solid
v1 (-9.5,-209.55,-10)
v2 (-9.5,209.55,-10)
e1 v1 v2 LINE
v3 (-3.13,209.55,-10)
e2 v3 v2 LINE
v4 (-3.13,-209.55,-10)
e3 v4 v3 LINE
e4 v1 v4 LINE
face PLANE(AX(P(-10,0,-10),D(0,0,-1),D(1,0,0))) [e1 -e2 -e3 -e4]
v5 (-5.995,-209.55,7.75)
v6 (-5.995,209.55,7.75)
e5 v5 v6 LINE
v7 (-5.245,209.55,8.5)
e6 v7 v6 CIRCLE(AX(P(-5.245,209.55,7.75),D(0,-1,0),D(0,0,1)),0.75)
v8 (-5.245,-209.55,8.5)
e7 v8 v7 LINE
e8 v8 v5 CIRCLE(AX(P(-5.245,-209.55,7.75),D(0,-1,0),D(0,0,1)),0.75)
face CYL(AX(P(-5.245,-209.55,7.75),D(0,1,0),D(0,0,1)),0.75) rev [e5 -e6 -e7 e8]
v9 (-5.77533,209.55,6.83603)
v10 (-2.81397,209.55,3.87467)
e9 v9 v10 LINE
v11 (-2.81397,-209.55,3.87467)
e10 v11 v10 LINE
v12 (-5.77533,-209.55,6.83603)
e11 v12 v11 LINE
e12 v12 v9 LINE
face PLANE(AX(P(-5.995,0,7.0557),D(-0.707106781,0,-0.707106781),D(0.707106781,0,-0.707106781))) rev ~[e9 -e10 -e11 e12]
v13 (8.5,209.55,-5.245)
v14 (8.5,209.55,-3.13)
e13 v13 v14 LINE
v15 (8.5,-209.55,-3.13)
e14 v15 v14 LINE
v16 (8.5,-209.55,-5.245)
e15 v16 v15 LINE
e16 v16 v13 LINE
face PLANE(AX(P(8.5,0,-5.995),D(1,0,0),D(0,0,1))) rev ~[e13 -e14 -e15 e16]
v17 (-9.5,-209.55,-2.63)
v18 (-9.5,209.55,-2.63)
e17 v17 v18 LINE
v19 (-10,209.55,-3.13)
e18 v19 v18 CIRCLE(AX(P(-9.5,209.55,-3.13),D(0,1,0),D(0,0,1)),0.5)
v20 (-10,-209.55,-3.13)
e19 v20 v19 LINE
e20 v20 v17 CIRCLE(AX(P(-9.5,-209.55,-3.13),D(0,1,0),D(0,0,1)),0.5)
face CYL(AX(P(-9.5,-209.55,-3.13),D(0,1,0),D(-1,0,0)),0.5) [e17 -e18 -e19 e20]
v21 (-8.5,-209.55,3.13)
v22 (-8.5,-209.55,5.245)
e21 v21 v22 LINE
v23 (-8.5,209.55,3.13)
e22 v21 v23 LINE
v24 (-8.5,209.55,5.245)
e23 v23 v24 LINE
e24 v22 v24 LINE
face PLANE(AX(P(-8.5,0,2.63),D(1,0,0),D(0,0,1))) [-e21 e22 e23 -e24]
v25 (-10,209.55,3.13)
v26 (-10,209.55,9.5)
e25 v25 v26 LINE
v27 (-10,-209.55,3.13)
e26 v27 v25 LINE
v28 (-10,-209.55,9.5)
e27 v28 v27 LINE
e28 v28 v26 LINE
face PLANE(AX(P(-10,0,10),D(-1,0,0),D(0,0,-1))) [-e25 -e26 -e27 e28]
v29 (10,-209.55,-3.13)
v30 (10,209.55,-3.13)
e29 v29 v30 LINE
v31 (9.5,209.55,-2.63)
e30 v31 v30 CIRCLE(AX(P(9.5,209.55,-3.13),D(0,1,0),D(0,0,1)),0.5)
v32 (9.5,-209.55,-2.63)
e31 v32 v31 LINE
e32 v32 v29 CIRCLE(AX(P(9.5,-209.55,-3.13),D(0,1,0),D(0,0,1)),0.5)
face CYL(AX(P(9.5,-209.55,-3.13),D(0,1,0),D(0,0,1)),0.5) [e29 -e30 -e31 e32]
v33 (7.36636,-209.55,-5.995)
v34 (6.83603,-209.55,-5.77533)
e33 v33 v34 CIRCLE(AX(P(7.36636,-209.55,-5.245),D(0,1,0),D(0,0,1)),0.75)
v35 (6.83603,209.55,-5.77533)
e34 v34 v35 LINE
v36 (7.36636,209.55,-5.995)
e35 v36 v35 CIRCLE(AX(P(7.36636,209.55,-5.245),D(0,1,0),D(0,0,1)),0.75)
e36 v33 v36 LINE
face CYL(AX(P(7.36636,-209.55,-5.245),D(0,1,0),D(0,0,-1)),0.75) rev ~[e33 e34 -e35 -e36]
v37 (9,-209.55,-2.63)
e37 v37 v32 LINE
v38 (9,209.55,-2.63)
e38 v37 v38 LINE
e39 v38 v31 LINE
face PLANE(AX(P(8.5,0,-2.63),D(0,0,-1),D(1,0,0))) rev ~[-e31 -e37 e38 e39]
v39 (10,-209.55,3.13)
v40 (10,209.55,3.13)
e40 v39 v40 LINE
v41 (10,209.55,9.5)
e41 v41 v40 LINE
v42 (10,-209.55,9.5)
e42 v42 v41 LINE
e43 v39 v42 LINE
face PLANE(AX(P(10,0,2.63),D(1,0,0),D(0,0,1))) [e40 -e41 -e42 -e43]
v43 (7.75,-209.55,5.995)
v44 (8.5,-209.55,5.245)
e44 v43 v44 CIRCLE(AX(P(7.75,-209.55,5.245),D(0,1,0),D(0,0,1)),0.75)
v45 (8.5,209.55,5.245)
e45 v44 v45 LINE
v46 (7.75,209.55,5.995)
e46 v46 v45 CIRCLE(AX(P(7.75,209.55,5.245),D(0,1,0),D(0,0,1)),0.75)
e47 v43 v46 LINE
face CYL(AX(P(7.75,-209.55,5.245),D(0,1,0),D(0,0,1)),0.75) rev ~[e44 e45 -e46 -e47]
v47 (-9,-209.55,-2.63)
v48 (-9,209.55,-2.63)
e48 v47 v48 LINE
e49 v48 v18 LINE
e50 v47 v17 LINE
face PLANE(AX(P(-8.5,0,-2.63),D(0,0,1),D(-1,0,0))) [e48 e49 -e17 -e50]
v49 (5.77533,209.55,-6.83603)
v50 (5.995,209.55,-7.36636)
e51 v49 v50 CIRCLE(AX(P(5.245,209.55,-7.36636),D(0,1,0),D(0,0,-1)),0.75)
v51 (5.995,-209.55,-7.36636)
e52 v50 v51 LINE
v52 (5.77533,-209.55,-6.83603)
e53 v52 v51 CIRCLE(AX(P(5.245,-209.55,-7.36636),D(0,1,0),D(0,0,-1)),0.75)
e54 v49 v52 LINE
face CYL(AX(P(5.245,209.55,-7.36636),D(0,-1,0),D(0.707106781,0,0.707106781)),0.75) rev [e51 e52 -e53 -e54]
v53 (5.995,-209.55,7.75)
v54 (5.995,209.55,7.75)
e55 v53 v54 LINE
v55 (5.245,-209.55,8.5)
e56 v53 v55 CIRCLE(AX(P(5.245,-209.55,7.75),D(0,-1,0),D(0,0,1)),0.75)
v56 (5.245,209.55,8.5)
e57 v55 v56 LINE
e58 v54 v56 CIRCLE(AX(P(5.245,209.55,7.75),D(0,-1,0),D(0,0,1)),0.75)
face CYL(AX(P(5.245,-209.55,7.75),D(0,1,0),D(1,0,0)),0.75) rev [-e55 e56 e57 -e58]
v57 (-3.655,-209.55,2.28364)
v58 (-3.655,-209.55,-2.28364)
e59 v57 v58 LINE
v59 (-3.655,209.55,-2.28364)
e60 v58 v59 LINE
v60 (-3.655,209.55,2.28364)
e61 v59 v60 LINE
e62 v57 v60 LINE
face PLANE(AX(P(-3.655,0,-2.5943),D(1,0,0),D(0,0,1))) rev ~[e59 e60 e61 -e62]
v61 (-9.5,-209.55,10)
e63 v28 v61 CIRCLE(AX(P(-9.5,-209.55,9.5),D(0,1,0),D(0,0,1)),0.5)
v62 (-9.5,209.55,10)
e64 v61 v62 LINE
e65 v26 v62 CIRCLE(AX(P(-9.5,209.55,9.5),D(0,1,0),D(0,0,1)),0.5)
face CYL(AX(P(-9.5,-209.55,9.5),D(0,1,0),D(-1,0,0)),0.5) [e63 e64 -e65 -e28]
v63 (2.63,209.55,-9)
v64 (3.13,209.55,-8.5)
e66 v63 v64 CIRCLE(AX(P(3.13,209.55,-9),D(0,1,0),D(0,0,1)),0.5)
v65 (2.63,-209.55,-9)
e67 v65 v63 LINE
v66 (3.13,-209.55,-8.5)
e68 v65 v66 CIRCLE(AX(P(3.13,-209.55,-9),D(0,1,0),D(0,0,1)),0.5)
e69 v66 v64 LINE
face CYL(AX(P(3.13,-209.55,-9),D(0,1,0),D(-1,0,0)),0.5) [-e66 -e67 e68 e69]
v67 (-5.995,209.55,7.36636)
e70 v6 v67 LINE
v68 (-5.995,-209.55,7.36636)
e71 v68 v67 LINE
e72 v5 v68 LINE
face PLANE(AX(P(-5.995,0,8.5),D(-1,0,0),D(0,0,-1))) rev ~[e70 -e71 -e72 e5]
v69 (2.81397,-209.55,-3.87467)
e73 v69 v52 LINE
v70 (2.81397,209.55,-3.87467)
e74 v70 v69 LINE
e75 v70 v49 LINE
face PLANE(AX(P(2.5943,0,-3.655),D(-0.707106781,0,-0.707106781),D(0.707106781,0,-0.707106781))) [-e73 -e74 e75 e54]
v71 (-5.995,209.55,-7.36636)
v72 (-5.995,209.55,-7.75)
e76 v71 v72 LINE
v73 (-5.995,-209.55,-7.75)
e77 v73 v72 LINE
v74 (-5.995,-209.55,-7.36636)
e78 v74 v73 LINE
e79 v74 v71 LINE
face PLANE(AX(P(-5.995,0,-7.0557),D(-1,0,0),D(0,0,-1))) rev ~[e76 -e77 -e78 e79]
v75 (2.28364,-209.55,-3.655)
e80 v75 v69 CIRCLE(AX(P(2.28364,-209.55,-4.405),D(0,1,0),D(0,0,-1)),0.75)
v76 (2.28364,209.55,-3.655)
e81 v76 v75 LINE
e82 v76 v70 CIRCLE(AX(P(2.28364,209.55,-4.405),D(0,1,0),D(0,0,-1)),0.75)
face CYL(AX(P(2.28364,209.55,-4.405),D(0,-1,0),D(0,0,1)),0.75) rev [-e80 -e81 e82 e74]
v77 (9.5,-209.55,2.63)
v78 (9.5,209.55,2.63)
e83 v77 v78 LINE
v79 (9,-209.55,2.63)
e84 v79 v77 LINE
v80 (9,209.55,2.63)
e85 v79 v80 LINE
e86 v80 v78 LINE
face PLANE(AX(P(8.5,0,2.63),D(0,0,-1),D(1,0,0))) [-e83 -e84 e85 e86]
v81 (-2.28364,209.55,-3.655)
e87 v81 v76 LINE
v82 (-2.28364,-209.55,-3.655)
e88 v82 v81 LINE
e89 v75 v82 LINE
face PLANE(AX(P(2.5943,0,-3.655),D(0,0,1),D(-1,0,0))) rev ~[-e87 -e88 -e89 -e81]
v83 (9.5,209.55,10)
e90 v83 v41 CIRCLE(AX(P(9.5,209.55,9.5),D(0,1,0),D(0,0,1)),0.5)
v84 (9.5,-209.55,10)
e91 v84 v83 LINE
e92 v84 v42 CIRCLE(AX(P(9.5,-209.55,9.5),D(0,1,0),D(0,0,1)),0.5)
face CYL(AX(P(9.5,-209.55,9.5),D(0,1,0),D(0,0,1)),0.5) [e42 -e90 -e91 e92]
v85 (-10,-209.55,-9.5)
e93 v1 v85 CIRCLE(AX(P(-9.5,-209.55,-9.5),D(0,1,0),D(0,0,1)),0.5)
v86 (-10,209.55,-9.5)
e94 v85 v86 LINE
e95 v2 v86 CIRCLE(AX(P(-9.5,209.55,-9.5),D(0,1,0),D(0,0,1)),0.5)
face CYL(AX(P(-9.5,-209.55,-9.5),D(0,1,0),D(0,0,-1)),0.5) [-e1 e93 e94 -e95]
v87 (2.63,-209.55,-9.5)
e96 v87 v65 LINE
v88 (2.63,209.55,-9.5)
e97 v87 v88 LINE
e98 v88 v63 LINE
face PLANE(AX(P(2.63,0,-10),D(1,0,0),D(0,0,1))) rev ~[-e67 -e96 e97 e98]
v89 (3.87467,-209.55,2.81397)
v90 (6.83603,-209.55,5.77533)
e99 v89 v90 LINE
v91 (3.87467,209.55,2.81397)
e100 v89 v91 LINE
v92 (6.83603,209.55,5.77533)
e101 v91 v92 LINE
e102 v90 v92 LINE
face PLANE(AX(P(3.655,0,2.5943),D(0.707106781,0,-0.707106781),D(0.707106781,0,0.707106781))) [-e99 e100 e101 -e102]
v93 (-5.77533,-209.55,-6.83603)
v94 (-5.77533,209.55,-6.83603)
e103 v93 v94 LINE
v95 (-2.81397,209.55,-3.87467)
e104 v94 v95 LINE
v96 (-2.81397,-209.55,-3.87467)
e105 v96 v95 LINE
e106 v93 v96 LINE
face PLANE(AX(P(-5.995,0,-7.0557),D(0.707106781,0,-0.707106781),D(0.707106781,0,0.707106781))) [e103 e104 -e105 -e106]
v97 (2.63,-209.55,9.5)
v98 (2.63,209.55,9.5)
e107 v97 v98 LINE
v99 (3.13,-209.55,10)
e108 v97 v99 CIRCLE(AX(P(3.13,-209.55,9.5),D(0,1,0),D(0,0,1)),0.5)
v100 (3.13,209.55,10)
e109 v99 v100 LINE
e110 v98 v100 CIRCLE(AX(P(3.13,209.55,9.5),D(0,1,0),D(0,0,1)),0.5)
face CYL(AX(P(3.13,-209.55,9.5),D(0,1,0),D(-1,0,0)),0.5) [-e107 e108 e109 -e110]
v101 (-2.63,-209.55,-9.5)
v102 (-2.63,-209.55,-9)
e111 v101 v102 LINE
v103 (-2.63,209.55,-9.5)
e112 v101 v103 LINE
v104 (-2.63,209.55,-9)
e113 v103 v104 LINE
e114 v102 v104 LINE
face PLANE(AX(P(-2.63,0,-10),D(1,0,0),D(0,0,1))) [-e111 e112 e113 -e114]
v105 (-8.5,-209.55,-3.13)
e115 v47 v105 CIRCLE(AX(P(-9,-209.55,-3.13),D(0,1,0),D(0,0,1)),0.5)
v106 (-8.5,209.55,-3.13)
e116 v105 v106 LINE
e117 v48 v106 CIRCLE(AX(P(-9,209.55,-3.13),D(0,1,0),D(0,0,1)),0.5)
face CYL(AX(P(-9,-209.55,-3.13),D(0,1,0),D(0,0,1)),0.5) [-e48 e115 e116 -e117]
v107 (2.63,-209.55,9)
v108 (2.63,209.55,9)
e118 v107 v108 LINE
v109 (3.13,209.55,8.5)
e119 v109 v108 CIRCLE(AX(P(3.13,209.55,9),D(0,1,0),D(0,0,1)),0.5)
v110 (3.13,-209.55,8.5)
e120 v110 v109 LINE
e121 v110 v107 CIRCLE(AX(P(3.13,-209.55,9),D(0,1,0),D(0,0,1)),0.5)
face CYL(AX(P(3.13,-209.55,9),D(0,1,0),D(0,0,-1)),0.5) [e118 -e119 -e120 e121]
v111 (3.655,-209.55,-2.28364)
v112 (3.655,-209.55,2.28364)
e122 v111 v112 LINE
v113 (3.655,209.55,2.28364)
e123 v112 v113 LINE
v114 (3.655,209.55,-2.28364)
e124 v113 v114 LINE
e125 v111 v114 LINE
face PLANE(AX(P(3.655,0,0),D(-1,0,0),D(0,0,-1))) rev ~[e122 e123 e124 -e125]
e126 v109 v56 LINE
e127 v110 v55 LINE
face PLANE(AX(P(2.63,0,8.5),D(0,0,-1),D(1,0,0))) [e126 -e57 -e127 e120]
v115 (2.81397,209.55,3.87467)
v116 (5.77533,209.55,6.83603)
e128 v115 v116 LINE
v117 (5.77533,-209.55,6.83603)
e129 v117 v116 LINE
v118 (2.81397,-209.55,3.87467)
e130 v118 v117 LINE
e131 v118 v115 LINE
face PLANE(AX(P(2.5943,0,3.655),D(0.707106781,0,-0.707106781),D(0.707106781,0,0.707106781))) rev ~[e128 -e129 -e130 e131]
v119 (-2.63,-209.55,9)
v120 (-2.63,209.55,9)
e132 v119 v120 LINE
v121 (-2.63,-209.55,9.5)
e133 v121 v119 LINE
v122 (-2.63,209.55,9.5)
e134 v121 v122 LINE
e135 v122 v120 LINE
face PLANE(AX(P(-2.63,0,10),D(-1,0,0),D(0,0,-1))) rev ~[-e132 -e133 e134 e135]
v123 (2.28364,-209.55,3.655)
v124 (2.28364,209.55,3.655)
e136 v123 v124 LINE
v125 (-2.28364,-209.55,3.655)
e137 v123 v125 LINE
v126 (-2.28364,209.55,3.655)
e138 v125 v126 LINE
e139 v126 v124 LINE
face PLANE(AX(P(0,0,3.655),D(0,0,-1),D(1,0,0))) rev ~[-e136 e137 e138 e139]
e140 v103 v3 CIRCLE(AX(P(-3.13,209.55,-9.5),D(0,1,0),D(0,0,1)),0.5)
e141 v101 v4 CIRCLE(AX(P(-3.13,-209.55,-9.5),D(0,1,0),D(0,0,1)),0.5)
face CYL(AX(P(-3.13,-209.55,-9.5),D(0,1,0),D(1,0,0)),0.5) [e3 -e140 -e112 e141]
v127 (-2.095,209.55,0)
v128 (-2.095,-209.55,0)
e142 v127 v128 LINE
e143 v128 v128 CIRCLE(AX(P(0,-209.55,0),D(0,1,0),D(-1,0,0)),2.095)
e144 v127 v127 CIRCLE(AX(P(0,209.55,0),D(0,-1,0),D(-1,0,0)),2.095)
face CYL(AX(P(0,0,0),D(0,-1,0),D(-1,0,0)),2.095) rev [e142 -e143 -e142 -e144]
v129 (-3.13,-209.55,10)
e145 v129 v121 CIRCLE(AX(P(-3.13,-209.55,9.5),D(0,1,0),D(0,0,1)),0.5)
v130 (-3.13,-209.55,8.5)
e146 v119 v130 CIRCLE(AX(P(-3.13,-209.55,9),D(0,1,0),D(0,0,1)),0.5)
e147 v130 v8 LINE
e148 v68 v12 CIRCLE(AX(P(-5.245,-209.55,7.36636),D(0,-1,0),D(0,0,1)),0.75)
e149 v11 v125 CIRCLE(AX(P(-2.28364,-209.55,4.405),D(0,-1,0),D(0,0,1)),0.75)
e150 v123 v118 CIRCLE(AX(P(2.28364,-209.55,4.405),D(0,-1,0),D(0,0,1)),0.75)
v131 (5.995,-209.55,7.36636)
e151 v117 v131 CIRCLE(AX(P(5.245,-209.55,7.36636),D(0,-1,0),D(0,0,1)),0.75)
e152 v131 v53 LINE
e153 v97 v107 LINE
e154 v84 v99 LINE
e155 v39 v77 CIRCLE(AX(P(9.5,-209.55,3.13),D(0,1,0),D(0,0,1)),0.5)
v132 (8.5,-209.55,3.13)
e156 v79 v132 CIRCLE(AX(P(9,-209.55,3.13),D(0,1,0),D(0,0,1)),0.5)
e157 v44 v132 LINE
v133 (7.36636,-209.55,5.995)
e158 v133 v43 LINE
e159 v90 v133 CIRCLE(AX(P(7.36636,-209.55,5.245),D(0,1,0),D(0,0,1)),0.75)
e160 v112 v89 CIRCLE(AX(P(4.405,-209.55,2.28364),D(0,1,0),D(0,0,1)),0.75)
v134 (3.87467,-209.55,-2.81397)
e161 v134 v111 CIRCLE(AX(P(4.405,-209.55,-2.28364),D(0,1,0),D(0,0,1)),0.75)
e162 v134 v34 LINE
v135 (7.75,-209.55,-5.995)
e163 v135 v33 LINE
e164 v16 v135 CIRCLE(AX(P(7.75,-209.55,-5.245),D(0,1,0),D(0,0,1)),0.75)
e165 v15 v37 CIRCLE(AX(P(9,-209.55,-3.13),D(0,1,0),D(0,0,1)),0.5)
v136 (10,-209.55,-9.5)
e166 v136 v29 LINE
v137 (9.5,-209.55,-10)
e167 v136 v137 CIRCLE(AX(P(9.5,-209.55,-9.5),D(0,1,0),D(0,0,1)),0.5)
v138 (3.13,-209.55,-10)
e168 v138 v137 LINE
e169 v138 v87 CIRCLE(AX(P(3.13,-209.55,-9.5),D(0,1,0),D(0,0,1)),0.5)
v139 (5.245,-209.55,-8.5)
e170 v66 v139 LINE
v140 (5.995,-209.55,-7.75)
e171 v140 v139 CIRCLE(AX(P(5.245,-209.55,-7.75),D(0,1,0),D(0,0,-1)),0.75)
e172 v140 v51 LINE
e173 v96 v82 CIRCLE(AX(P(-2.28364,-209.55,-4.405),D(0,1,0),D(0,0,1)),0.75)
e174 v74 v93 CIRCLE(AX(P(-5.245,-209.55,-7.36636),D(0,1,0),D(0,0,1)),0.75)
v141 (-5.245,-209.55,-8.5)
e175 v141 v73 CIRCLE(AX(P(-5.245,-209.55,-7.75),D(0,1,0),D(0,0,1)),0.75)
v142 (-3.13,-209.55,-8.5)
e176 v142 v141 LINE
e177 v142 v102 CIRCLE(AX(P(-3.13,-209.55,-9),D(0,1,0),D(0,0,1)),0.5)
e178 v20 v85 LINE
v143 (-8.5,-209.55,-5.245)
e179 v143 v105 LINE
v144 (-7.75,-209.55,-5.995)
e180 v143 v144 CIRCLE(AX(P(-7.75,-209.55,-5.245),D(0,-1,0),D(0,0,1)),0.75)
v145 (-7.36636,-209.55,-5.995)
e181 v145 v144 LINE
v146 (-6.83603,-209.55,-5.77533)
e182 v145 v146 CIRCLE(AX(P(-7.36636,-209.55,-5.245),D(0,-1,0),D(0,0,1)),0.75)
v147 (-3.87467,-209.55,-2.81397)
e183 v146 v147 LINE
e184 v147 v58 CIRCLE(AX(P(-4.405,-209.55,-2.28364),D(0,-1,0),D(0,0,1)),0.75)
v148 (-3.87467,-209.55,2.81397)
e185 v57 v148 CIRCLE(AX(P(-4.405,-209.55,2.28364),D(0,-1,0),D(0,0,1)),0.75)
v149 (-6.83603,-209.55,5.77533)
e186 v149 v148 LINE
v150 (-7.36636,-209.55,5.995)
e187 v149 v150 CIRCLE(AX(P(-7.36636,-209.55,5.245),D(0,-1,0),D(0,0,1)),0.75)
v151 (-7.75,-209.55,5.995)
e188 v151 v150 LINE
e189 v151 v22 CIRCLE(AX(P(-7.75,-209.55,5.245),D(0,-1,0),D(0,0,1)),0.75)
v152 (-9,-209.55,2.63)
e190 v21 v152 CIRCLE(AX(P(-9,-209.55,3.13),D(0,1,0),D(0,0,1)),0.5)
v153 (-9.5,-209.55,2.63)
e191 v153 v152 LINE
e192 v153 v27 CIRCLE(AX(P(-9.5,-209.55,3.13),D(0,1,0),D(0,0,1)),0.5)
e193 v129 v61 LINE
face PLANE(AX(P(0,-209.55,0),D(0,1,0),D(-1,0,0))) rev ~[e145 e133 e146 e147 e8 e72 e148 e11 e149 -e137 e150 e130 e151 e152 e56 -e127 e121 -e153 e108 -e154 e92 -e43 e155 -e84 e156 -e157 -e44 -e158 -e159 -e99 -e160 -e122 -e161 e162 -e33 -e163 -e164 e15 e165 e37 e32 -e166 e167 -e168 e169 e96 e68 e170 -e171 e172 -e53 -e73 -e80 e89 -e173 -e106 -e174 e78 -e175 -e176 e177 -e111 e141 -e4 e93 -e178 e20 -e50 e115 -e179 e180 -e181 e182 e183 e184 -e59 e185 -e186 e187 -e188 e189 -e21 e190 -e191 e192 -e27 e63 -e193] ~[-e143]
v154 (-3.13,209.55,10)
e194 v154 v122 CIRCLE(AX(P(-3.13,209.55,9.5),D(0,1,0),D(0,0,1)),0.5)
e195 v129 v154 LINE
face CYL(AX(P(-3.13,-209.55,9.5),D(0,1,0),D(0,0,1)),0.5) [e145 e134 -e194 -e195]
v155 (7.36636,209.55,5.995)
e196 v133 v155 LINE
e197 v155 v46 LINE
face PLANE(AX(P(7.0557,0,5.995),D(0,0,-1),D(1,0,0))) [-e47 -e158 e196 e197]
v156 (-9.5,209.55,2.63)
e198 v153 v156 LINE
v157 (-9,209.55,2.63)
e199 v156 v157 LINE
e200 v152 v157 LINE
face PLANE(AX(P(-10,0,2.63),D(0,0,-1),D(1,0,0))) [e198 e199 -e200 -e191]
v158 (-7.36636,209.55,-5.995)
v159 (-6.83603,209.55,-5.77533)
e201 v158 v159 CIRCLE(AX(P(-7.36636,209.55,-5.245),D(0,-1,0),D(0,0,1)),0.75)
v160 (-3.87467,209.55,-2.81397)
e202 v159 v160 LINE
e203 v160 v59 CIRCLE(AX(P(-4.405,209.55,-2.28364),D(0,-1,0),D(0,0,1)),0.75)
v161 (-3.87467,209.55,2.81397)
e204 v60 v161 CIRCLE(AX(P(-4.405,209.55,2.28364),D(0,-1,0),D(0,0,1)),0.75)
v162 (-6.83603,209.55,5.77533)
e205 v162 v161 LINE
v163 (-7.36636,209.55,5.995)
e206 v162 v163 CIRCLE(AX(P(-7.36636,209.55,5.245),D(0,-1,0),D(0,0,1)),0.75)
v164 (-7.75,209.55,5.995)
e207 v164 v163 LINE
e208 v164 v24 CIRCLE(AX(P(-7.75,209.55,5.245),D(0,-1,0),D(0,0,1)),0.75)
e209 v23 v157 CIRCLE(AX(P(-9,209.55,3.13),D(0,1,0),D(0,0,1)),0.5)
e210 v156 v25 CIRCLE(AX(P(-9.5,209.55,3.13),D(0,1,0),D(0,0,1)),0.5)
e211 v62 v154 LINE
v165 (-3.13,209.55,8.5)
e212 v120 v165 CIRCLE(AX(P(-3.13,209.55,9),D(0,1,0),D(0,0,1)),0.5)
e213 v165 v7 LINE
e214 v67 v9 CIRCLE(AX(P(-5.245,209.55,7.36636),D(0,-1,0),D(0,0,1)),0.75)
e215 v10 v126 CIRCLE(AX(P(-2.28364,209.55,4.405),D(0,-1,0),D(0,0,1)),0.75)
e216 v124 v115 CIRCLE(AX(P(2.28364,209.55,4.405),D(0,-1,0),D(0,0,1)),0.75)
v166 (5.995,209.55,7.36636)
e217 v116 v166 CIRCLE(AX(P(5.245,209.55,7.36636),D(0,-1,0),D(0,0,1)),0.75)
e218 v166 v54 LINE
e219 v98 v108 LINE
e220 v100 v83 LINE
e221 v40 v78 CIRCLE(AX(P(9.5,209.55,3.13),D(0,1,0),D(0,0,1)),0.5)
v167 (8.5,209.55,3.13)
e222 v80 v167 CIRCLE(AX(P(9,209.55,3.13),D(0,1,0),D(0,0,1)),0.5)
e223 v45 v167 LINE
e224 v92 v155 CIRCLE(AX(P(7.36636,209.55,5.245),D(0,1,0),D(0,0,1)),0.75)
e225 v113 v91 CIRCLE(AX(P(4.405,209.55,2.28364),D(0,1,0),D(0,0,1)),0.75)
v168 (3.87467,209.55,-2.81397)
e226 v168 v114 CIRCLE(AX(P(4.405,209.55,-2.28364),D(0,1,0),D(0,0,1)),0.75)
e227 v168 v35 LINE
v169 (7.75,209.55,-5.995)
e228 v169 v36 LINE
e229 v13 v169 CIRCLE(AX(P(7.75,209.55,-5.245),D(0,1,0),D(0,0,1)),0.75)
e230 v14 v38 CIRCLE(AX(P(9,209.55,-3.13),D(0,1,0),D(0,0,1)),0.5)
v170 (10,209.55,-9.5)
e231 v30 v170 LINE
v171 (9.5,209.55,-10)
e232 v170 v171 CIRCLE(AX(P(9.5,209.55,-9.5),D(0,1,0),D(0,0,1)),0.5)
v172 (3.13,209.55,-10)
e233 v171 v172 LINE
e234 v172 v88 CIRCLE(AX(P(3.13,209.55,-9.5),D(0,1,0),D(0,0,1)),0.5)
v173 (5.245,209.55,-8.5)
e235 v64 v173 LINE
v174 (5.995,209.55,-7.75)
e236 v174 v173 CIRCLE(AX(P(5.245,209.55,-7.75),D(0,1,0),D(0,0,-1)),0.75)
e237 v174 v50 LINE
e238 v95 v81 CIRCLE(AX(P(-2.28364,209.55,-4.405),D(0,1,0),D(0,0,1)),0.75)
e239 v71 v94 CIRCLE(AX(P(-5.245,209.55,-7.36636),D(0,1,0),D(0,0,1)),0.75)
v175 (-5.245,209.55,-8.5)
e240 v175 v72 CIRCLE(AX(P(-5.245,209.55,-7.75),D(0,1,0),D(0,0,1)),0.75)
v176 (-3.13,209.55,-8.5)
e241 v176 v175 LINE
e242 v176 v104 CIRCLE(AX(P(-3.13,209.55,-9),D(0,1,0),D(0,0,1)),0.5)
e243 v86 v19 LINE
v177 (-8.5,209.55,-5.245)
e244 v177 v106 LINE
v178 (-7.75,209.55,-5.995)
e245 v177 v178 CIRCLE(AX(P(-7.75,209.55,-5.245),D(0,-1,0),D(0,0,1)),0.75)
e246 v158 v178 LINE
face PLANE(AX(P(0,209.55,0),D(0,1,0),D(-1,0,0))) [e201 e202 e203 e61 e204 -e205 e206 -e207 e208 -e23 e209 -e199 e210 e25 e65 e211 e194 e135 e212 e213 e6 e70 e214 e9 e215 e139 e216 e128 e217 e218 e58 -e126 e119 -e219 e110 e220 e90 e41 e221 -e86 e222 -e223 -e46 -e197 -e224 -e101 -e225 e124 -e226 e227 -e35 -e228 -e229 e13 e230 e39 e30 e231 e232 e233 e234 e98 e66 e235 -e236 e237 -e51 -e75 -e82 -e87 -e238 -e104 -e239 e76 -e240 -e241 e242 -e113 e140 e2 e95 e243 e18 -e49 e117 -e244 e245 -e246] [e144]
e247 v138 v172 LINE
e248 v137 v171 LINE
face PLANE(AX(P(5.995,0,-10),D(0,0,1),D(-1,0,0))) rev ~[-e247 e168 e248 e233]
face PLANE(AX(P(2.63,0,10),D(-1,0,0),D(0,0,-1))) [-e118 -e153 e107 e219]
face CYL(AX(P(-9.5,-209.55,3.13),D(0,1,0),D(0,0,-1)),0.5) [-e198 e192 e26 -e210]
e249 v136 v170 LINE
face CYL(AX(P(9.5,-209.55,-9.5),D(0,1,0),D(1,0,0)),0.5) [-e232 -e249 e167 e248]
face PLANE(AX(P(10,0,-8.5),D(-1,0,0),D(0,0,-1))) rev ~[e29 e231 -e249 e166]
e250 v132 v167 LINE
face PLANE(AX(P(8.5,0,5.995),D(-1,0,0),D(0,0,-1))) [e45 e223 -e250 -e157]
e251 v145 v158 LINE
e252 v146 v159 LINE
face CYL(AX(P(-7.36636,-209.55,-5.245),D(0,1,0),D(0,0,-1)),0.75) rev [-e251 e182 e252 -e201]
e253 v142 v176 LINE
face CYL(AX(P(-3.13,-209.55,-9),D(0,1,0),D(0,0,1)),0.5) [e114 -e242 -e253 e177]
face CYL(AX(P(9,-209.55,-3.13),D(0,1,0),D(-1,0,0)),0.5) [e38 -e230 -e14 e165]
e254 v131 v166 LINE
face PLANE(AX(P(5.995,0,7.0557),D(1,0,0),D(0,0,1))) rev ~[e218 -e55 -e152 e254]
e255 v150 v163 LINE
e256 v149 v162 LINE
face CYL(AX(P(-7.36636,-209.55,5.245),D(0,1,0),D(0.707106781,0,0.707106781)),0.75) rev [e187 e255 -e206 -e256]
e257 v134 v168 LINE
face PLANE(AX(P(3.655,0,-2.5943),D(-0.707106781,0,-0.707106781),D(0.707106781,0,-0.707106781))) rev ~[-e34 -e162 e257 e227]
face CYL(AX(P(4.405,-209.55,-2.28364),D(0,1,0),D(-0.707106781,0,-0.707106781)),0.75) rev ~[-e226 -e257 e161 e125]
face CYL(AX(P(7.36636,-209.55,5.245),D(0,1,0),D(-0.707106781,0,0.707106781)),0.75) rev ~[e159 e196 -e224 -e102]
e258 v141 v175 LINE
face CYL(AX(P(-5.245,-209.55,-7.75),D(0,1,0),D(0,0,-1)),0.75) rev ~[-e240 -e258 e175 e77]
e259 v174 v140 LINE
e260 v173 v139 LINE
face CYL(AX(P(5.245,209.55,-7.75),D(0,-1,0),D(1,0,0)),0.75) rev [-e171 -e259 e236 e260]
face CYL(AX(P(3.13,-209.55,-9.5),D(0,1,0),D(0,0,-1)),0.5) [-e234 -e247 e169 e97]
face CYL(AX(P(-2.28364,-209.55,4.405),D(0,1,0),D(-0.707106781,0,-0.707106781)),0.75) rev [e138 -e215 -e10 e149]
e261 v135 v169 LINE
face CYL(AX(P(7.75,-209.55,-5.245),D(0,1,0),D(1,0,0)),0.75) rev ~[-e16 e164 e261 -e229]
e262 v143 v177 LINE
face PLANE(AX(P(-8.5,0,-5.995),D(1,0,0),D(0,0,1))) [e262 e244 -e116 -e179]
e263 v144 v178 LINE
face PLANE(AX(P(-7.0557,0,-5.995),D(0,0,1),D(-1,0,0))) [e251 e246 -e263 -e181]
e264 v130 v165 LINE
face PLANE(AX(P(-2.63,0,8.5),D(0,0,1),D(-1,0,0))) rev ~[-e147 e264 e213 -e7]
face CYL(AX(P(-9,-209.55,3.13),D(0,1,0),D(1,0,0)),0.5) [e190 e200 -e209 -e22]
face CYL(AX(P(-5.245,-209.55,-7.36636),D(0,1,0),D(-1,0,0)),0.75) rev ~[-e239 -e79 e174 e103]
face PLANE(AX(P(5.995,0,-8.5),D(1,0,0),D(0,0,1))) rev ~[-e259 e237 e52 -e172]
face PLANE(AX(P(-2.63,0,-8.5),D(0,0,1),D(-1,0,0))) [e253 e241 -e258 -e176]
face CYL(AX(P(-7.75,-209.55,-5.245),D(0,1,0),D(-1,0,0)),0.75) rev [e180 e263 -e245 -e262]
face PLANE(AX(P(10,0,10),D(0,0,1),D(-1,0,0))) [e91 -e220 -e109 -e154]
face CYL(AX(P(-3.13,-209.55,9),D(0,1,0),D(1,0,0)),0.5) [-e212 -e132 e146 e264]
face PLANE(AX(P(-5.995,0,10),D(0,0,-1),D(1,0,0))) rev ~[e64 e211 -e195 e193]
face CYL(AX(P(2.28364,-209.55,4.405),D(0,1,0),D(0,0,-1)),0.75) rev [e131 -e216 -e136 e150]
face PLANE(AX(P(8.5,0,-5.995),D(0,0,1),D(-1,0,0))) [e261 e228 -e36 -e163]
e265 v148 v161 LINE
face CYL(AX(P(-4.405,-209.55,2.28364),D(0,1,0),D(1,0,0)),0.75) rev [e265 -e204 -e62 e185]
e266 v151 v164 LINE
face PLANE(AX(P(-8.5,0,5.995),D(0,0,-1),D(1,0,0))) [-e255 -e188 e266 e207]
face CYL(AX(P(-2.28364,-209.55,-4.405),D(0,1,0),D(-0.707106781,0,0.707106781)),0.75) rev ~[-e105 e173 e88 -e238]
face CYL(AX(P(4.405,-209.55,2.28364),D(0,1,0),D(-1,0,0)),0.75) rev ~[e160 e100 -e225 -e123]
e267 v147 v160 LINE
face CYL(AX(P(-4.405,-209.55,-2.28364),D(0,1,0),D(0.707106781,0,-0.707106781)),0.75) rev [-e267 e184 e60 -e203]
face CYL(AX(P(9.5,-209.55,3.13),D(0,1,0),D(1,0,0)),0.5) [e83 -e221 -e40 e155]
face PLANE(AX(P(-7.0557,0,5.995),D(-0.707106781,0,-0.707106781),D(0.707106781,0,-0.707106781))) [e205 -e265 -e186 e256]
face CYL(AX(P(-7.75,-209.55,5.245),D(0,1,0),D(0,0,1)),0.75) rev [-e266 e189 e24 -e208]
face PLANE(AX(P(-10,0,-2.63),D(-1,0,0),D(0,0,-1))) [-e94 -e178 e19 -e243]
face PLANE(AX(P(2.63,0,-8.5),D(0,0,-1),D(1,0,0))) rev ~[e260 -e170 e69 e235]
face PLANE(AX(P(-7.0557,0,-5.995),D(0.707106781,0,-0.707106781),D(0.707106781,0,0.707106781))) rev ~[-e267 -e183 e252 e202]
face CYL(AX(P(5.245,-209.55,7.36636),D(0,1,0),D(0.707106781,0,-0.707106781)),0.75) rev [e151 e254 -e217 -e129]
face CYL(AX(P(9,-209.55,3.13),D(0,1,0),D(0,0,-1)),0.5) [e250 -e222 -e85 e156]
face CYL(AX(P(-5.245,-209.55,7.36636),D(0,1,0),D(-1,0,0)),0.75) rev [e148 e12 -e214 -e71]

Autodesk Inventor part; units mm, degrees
ref_plane "YZ Plane" through (0, 0, 0) normal (1, 0, 0) x (0, 1, 0)
ref_plane "XZ Plane" through (0, 0, 0) normal (0, 1, 0) x (-1, 0, 0)
ref_plane "XY Plane" through (0, 0, 0) normal (0, 0, 1) x (1, 0, 0)
sketch "Sketch1" plane through (0, 0, 0) normal (0, 1, 0) x (-1, 0, 0)
  line L0 (0, -14) -> (0, 14) projected
  line L1 (-14, 0) -> (14, 0) projected
  line L2 (14, 0) -> (-14, 0) projected
  line L3 (0, -14) -> (0, 14) projected
  line L4 (2.5943, 3.655) -> (-2.5943, 3.655)
  line L5 (-3.655, 2.5943) -> (-3.655, -2.5943)
  line L6 (-2.5943, -3.655) -> (2.5943, -3.655)
  line L7 (3.655, -2.5943) -> (3.655, 2.5943)
  line L8 (-3.655, 3.655) -> (3.655, -3.655) construction
  line L9 (10, 10) -> (10, 2.63)
  line L10 (10, 2.63) -> (8.5, 2.63)
  line L11 (10, 10) -> (2.63, 10)
  line L12 (2.63, 10) -> (2.63, 8.5)
  line L13 (-10, 10) -> (-2.63, 10)
  line L14 (-2.63, 10) -> (-2.63, 8.5)
  line L15 (-10, 8.5) -> (-10, 10)
  line L16 (-10, 10) -> (-8.5, 10)
  line L17 (-8.5, 2.63) -> (-10, 2.63)
  line L18 (-10, 2.63) -> (-10, 10)
  line L19 (-10, -10) -> (-8.5, -10)
  line L20 (-8.5, -2.63) -> (-10, -2.63)
  line L21 (-10, -2.63) -> (-10, -10)
  line L22 (-10, -10) -> (-2.63, -10)
  line L23 (-2.63, -10) -> (-2.63, -8.5)
  line L24 (-10, -8.5) -> (-10, -10)
  line L25 (10, -10) -> (8.5, -10)
  line L26 (8.5, -2.63) -> (10, -2.63)
  line L27 (10, -2.63) -> (10, -10)
  line L28 (10, -10) -> (2.63, -10)
  line L29 (2.63, -10) -> (2.63, -8.5)
  line L30 (10, -8.5) -> (10, -10)
  circle A0 centre (0, 0) radius 2.095
  line L31 (5.995, -10) -> (2.63, -10)
  line L32 (-2.63, -10) -> (-5.995, -10)
  line L33 (10, -10) -> (2.63, -10)
  line L34 (-2.63, -10) -> (-10, -10)
  line L35 (10, -5.995) -> (10, -2.63)
  line L36 (10, 2.63) -> (10, 5.995)
  line L37 (10, 10) -> (10, 2.63)
  line L38 (10, -2.63) -> (10, -10)
  line L39 (-5.995, 10) -> (-2.63, 10)
  line L40 (2.63, 10) -> (5.995, 10)
  line L41 (-10, 10) -> (-2.63, 10)
  line L42 (2.63, 10) -> (10, 10)
  line L43 (-10, 5.995) -> (-10, 2.63)
  line L44 (-10, -2.63) -> (-10, -5.995)
  line L45 (-10, -10) -> (-10, -2.63)
  line L46 (-10, 2.63) -> (-10, 10)
  line L47 (-2.63, -8.5) -> (-5.995, -8.5)
  line L48 (-8.5, -5.995) -> (-8.5, -2.63)
  line L49 (-8.5, -5.995) -> (-7.0557, -5.995)
  line L50 (-5.995, -8.5) -> (-5.995, -7.0557)
  line L51 (-5.995, 7.0557) -> (-5.995, 8.5)
  line L52 (2.63, 8.5) -> (5.995, 8.5)
  line L53 (8.5, 2.63) -> (8.5, 5.995)
  line L54 (8.5, 5.995) -> (7.0557, 5.995)
  line L55 (5.995, 8.5) -> (5.995, 7.0557)
  line L56 (2.63, -8.5) -> (5.995, -8.5)
  line L57 (9.5607, -8.5) -> (10, -8.5)
  line L58 (8.5, -10) -> (8.5, -9.5607)
  line L59 (8.5, -5.995) -> (8.5, -2.63)
  line L60 (7.0557, -5.995) -> (8.5, -5.995)
  line L61 (5.995, -7.0557) -> (5.995, -8.5)
  line L62 (3.655, 3.655) -> (-0.5303, -0.5303) construction
  line L63 (-1.4814, -1.4814) -> (-3.655, -3.655) construction
  line L64 (-8.5, 10) -> (-8.5, 9.5607)
  line L65 (-8.5, 5.995) -> (-8.5, 2.63)
  line L66 (-2.63, 8.5) -> (-5.995, 8.5)
  line L67 (-9.5607, 8.5) -> (-10, 8.5)
  line L68 (-7.0557, 5.995) -> (-8.5, 5.995)
  line L69 (-3.655, 2.5943) -> (-7.0557, 5.995)
  line L70 (-2.5943, 3.655) -> (-5.995, 7.0557)
  line L71 (5.995, 7.0557) -> (2.5943, 3.655)
  line L72 (7.0557, 5.995) -> (3.655, 2.5943)
  line L73 (7.0557, -5.995) -> (3.655, -2.5943)
  line L74 (5.995, -7.0557) -> (2.5943, -3.655)
  line L75 (-2.5943, -3.655) -> (-5.995, -7.0557)
  line L76 (-3.655, -2.5943) -> (-7.0557, -5.995)
  dimension "d26" = 4.19
  dimension "d0" = 20
  dimension "d1" = 20
  dimension "d2" = 7.31
  dimension "d3" = 7.31
  dimension "d4" = 20
  dimension "d5" = 11.99
  dimension "d6" = 11.99
  dimension "d11" = 7.37
  dimension "d12" = 1.5
  dimension "d13" = 7.37
  dimension "d14" = 1.5
  dimension "d15" = 7.37
  dimension "d16" = 1.5
  dimension "d17" = 7.37
  dimension "d18" = 1.5
  dimension "d19" = 7.37
  dimension "d20" = 7.37
  dimension "d21" = 1.5
  dimension "d22" = 1.5
  dimension "d23" = 7.37
  dimension "d24" = 7.37
  dimension "d25" = 1.5
extrude "Extrusion1" add sketch "Sketch1" along normal mid plane 419.1 contours L6 L75 L50 L47 L23 L22 L19 L21 L20 L48 L49 L76 L5 L1 A0 L0 | L0 A0 L1 L7 L73 L60 L59 L26 L27 L25 L28 L29 L56 L61 L74 L6 | L1 L5 L69 L68 L65 L17 L18 L15 L13 L14 L66 L51 L70 L4 L0 A0 | A0 L0 L4 L71 L55 L52 L12 L11 L9 L10 L53 L54 L72 L7 L1
fillet "Fillet1" radius 0.5 20 edges at (10, 0, 10) (2.63, 0, 10) (-2.63, 0, 10) (-2.63, 0, 8.5) (10, 0, 2.63) (8.5, 0, 2.63) (10, 0, -2.63) (8.5, 0, -2.63) (10, 0, -10) (2.63, 0, -8.5) (-2.63, 0, -10) (-2.63, 0, -8.5) (2.63, 0, -10) (-10, 0, -10) (-8.5, 0, -2.63) (-10, 0, -2.63) (-8.5, 0, 2.63) (-10, 0, 2.63) (-10, 0, 10) (2.63, 0, 8.5)
fillet "Fillet2" radius 0.75 24 edges at (-7.0557, 0, 5.995) (-3.655, 0, 2.5943) (-8.5, 0, -5.995) (-7.0557, 0, -5.995) (-5.995, 0, -8.5) (3.655, 0, -2.5943) (7.0557, 0, -5.995) (-2.5943, 0, 3.655) (-5.995, 0, 7.0557) (3.655, 0, 2.5943) (7.0557, 0, 5.995) (8.5, 0, 5.995) (8.5, 0, -5.995) (2.5943, 0, 3.655) (5.995, 0, 7.0557) (5.995, 0, 8.5) (-5.995, 0, 8.5) (-8.5, 0, 5.995) (2.5943, 0, -3.655) (5.995, 0, -7.0557) (5.995, 0, -8.5) (-5.995, 0, -7.0557) (-2.5943, 0, -3.655) (-3.655, 0, -2.5943)
properties part number "pro20in" material "Aluminum 6061"
